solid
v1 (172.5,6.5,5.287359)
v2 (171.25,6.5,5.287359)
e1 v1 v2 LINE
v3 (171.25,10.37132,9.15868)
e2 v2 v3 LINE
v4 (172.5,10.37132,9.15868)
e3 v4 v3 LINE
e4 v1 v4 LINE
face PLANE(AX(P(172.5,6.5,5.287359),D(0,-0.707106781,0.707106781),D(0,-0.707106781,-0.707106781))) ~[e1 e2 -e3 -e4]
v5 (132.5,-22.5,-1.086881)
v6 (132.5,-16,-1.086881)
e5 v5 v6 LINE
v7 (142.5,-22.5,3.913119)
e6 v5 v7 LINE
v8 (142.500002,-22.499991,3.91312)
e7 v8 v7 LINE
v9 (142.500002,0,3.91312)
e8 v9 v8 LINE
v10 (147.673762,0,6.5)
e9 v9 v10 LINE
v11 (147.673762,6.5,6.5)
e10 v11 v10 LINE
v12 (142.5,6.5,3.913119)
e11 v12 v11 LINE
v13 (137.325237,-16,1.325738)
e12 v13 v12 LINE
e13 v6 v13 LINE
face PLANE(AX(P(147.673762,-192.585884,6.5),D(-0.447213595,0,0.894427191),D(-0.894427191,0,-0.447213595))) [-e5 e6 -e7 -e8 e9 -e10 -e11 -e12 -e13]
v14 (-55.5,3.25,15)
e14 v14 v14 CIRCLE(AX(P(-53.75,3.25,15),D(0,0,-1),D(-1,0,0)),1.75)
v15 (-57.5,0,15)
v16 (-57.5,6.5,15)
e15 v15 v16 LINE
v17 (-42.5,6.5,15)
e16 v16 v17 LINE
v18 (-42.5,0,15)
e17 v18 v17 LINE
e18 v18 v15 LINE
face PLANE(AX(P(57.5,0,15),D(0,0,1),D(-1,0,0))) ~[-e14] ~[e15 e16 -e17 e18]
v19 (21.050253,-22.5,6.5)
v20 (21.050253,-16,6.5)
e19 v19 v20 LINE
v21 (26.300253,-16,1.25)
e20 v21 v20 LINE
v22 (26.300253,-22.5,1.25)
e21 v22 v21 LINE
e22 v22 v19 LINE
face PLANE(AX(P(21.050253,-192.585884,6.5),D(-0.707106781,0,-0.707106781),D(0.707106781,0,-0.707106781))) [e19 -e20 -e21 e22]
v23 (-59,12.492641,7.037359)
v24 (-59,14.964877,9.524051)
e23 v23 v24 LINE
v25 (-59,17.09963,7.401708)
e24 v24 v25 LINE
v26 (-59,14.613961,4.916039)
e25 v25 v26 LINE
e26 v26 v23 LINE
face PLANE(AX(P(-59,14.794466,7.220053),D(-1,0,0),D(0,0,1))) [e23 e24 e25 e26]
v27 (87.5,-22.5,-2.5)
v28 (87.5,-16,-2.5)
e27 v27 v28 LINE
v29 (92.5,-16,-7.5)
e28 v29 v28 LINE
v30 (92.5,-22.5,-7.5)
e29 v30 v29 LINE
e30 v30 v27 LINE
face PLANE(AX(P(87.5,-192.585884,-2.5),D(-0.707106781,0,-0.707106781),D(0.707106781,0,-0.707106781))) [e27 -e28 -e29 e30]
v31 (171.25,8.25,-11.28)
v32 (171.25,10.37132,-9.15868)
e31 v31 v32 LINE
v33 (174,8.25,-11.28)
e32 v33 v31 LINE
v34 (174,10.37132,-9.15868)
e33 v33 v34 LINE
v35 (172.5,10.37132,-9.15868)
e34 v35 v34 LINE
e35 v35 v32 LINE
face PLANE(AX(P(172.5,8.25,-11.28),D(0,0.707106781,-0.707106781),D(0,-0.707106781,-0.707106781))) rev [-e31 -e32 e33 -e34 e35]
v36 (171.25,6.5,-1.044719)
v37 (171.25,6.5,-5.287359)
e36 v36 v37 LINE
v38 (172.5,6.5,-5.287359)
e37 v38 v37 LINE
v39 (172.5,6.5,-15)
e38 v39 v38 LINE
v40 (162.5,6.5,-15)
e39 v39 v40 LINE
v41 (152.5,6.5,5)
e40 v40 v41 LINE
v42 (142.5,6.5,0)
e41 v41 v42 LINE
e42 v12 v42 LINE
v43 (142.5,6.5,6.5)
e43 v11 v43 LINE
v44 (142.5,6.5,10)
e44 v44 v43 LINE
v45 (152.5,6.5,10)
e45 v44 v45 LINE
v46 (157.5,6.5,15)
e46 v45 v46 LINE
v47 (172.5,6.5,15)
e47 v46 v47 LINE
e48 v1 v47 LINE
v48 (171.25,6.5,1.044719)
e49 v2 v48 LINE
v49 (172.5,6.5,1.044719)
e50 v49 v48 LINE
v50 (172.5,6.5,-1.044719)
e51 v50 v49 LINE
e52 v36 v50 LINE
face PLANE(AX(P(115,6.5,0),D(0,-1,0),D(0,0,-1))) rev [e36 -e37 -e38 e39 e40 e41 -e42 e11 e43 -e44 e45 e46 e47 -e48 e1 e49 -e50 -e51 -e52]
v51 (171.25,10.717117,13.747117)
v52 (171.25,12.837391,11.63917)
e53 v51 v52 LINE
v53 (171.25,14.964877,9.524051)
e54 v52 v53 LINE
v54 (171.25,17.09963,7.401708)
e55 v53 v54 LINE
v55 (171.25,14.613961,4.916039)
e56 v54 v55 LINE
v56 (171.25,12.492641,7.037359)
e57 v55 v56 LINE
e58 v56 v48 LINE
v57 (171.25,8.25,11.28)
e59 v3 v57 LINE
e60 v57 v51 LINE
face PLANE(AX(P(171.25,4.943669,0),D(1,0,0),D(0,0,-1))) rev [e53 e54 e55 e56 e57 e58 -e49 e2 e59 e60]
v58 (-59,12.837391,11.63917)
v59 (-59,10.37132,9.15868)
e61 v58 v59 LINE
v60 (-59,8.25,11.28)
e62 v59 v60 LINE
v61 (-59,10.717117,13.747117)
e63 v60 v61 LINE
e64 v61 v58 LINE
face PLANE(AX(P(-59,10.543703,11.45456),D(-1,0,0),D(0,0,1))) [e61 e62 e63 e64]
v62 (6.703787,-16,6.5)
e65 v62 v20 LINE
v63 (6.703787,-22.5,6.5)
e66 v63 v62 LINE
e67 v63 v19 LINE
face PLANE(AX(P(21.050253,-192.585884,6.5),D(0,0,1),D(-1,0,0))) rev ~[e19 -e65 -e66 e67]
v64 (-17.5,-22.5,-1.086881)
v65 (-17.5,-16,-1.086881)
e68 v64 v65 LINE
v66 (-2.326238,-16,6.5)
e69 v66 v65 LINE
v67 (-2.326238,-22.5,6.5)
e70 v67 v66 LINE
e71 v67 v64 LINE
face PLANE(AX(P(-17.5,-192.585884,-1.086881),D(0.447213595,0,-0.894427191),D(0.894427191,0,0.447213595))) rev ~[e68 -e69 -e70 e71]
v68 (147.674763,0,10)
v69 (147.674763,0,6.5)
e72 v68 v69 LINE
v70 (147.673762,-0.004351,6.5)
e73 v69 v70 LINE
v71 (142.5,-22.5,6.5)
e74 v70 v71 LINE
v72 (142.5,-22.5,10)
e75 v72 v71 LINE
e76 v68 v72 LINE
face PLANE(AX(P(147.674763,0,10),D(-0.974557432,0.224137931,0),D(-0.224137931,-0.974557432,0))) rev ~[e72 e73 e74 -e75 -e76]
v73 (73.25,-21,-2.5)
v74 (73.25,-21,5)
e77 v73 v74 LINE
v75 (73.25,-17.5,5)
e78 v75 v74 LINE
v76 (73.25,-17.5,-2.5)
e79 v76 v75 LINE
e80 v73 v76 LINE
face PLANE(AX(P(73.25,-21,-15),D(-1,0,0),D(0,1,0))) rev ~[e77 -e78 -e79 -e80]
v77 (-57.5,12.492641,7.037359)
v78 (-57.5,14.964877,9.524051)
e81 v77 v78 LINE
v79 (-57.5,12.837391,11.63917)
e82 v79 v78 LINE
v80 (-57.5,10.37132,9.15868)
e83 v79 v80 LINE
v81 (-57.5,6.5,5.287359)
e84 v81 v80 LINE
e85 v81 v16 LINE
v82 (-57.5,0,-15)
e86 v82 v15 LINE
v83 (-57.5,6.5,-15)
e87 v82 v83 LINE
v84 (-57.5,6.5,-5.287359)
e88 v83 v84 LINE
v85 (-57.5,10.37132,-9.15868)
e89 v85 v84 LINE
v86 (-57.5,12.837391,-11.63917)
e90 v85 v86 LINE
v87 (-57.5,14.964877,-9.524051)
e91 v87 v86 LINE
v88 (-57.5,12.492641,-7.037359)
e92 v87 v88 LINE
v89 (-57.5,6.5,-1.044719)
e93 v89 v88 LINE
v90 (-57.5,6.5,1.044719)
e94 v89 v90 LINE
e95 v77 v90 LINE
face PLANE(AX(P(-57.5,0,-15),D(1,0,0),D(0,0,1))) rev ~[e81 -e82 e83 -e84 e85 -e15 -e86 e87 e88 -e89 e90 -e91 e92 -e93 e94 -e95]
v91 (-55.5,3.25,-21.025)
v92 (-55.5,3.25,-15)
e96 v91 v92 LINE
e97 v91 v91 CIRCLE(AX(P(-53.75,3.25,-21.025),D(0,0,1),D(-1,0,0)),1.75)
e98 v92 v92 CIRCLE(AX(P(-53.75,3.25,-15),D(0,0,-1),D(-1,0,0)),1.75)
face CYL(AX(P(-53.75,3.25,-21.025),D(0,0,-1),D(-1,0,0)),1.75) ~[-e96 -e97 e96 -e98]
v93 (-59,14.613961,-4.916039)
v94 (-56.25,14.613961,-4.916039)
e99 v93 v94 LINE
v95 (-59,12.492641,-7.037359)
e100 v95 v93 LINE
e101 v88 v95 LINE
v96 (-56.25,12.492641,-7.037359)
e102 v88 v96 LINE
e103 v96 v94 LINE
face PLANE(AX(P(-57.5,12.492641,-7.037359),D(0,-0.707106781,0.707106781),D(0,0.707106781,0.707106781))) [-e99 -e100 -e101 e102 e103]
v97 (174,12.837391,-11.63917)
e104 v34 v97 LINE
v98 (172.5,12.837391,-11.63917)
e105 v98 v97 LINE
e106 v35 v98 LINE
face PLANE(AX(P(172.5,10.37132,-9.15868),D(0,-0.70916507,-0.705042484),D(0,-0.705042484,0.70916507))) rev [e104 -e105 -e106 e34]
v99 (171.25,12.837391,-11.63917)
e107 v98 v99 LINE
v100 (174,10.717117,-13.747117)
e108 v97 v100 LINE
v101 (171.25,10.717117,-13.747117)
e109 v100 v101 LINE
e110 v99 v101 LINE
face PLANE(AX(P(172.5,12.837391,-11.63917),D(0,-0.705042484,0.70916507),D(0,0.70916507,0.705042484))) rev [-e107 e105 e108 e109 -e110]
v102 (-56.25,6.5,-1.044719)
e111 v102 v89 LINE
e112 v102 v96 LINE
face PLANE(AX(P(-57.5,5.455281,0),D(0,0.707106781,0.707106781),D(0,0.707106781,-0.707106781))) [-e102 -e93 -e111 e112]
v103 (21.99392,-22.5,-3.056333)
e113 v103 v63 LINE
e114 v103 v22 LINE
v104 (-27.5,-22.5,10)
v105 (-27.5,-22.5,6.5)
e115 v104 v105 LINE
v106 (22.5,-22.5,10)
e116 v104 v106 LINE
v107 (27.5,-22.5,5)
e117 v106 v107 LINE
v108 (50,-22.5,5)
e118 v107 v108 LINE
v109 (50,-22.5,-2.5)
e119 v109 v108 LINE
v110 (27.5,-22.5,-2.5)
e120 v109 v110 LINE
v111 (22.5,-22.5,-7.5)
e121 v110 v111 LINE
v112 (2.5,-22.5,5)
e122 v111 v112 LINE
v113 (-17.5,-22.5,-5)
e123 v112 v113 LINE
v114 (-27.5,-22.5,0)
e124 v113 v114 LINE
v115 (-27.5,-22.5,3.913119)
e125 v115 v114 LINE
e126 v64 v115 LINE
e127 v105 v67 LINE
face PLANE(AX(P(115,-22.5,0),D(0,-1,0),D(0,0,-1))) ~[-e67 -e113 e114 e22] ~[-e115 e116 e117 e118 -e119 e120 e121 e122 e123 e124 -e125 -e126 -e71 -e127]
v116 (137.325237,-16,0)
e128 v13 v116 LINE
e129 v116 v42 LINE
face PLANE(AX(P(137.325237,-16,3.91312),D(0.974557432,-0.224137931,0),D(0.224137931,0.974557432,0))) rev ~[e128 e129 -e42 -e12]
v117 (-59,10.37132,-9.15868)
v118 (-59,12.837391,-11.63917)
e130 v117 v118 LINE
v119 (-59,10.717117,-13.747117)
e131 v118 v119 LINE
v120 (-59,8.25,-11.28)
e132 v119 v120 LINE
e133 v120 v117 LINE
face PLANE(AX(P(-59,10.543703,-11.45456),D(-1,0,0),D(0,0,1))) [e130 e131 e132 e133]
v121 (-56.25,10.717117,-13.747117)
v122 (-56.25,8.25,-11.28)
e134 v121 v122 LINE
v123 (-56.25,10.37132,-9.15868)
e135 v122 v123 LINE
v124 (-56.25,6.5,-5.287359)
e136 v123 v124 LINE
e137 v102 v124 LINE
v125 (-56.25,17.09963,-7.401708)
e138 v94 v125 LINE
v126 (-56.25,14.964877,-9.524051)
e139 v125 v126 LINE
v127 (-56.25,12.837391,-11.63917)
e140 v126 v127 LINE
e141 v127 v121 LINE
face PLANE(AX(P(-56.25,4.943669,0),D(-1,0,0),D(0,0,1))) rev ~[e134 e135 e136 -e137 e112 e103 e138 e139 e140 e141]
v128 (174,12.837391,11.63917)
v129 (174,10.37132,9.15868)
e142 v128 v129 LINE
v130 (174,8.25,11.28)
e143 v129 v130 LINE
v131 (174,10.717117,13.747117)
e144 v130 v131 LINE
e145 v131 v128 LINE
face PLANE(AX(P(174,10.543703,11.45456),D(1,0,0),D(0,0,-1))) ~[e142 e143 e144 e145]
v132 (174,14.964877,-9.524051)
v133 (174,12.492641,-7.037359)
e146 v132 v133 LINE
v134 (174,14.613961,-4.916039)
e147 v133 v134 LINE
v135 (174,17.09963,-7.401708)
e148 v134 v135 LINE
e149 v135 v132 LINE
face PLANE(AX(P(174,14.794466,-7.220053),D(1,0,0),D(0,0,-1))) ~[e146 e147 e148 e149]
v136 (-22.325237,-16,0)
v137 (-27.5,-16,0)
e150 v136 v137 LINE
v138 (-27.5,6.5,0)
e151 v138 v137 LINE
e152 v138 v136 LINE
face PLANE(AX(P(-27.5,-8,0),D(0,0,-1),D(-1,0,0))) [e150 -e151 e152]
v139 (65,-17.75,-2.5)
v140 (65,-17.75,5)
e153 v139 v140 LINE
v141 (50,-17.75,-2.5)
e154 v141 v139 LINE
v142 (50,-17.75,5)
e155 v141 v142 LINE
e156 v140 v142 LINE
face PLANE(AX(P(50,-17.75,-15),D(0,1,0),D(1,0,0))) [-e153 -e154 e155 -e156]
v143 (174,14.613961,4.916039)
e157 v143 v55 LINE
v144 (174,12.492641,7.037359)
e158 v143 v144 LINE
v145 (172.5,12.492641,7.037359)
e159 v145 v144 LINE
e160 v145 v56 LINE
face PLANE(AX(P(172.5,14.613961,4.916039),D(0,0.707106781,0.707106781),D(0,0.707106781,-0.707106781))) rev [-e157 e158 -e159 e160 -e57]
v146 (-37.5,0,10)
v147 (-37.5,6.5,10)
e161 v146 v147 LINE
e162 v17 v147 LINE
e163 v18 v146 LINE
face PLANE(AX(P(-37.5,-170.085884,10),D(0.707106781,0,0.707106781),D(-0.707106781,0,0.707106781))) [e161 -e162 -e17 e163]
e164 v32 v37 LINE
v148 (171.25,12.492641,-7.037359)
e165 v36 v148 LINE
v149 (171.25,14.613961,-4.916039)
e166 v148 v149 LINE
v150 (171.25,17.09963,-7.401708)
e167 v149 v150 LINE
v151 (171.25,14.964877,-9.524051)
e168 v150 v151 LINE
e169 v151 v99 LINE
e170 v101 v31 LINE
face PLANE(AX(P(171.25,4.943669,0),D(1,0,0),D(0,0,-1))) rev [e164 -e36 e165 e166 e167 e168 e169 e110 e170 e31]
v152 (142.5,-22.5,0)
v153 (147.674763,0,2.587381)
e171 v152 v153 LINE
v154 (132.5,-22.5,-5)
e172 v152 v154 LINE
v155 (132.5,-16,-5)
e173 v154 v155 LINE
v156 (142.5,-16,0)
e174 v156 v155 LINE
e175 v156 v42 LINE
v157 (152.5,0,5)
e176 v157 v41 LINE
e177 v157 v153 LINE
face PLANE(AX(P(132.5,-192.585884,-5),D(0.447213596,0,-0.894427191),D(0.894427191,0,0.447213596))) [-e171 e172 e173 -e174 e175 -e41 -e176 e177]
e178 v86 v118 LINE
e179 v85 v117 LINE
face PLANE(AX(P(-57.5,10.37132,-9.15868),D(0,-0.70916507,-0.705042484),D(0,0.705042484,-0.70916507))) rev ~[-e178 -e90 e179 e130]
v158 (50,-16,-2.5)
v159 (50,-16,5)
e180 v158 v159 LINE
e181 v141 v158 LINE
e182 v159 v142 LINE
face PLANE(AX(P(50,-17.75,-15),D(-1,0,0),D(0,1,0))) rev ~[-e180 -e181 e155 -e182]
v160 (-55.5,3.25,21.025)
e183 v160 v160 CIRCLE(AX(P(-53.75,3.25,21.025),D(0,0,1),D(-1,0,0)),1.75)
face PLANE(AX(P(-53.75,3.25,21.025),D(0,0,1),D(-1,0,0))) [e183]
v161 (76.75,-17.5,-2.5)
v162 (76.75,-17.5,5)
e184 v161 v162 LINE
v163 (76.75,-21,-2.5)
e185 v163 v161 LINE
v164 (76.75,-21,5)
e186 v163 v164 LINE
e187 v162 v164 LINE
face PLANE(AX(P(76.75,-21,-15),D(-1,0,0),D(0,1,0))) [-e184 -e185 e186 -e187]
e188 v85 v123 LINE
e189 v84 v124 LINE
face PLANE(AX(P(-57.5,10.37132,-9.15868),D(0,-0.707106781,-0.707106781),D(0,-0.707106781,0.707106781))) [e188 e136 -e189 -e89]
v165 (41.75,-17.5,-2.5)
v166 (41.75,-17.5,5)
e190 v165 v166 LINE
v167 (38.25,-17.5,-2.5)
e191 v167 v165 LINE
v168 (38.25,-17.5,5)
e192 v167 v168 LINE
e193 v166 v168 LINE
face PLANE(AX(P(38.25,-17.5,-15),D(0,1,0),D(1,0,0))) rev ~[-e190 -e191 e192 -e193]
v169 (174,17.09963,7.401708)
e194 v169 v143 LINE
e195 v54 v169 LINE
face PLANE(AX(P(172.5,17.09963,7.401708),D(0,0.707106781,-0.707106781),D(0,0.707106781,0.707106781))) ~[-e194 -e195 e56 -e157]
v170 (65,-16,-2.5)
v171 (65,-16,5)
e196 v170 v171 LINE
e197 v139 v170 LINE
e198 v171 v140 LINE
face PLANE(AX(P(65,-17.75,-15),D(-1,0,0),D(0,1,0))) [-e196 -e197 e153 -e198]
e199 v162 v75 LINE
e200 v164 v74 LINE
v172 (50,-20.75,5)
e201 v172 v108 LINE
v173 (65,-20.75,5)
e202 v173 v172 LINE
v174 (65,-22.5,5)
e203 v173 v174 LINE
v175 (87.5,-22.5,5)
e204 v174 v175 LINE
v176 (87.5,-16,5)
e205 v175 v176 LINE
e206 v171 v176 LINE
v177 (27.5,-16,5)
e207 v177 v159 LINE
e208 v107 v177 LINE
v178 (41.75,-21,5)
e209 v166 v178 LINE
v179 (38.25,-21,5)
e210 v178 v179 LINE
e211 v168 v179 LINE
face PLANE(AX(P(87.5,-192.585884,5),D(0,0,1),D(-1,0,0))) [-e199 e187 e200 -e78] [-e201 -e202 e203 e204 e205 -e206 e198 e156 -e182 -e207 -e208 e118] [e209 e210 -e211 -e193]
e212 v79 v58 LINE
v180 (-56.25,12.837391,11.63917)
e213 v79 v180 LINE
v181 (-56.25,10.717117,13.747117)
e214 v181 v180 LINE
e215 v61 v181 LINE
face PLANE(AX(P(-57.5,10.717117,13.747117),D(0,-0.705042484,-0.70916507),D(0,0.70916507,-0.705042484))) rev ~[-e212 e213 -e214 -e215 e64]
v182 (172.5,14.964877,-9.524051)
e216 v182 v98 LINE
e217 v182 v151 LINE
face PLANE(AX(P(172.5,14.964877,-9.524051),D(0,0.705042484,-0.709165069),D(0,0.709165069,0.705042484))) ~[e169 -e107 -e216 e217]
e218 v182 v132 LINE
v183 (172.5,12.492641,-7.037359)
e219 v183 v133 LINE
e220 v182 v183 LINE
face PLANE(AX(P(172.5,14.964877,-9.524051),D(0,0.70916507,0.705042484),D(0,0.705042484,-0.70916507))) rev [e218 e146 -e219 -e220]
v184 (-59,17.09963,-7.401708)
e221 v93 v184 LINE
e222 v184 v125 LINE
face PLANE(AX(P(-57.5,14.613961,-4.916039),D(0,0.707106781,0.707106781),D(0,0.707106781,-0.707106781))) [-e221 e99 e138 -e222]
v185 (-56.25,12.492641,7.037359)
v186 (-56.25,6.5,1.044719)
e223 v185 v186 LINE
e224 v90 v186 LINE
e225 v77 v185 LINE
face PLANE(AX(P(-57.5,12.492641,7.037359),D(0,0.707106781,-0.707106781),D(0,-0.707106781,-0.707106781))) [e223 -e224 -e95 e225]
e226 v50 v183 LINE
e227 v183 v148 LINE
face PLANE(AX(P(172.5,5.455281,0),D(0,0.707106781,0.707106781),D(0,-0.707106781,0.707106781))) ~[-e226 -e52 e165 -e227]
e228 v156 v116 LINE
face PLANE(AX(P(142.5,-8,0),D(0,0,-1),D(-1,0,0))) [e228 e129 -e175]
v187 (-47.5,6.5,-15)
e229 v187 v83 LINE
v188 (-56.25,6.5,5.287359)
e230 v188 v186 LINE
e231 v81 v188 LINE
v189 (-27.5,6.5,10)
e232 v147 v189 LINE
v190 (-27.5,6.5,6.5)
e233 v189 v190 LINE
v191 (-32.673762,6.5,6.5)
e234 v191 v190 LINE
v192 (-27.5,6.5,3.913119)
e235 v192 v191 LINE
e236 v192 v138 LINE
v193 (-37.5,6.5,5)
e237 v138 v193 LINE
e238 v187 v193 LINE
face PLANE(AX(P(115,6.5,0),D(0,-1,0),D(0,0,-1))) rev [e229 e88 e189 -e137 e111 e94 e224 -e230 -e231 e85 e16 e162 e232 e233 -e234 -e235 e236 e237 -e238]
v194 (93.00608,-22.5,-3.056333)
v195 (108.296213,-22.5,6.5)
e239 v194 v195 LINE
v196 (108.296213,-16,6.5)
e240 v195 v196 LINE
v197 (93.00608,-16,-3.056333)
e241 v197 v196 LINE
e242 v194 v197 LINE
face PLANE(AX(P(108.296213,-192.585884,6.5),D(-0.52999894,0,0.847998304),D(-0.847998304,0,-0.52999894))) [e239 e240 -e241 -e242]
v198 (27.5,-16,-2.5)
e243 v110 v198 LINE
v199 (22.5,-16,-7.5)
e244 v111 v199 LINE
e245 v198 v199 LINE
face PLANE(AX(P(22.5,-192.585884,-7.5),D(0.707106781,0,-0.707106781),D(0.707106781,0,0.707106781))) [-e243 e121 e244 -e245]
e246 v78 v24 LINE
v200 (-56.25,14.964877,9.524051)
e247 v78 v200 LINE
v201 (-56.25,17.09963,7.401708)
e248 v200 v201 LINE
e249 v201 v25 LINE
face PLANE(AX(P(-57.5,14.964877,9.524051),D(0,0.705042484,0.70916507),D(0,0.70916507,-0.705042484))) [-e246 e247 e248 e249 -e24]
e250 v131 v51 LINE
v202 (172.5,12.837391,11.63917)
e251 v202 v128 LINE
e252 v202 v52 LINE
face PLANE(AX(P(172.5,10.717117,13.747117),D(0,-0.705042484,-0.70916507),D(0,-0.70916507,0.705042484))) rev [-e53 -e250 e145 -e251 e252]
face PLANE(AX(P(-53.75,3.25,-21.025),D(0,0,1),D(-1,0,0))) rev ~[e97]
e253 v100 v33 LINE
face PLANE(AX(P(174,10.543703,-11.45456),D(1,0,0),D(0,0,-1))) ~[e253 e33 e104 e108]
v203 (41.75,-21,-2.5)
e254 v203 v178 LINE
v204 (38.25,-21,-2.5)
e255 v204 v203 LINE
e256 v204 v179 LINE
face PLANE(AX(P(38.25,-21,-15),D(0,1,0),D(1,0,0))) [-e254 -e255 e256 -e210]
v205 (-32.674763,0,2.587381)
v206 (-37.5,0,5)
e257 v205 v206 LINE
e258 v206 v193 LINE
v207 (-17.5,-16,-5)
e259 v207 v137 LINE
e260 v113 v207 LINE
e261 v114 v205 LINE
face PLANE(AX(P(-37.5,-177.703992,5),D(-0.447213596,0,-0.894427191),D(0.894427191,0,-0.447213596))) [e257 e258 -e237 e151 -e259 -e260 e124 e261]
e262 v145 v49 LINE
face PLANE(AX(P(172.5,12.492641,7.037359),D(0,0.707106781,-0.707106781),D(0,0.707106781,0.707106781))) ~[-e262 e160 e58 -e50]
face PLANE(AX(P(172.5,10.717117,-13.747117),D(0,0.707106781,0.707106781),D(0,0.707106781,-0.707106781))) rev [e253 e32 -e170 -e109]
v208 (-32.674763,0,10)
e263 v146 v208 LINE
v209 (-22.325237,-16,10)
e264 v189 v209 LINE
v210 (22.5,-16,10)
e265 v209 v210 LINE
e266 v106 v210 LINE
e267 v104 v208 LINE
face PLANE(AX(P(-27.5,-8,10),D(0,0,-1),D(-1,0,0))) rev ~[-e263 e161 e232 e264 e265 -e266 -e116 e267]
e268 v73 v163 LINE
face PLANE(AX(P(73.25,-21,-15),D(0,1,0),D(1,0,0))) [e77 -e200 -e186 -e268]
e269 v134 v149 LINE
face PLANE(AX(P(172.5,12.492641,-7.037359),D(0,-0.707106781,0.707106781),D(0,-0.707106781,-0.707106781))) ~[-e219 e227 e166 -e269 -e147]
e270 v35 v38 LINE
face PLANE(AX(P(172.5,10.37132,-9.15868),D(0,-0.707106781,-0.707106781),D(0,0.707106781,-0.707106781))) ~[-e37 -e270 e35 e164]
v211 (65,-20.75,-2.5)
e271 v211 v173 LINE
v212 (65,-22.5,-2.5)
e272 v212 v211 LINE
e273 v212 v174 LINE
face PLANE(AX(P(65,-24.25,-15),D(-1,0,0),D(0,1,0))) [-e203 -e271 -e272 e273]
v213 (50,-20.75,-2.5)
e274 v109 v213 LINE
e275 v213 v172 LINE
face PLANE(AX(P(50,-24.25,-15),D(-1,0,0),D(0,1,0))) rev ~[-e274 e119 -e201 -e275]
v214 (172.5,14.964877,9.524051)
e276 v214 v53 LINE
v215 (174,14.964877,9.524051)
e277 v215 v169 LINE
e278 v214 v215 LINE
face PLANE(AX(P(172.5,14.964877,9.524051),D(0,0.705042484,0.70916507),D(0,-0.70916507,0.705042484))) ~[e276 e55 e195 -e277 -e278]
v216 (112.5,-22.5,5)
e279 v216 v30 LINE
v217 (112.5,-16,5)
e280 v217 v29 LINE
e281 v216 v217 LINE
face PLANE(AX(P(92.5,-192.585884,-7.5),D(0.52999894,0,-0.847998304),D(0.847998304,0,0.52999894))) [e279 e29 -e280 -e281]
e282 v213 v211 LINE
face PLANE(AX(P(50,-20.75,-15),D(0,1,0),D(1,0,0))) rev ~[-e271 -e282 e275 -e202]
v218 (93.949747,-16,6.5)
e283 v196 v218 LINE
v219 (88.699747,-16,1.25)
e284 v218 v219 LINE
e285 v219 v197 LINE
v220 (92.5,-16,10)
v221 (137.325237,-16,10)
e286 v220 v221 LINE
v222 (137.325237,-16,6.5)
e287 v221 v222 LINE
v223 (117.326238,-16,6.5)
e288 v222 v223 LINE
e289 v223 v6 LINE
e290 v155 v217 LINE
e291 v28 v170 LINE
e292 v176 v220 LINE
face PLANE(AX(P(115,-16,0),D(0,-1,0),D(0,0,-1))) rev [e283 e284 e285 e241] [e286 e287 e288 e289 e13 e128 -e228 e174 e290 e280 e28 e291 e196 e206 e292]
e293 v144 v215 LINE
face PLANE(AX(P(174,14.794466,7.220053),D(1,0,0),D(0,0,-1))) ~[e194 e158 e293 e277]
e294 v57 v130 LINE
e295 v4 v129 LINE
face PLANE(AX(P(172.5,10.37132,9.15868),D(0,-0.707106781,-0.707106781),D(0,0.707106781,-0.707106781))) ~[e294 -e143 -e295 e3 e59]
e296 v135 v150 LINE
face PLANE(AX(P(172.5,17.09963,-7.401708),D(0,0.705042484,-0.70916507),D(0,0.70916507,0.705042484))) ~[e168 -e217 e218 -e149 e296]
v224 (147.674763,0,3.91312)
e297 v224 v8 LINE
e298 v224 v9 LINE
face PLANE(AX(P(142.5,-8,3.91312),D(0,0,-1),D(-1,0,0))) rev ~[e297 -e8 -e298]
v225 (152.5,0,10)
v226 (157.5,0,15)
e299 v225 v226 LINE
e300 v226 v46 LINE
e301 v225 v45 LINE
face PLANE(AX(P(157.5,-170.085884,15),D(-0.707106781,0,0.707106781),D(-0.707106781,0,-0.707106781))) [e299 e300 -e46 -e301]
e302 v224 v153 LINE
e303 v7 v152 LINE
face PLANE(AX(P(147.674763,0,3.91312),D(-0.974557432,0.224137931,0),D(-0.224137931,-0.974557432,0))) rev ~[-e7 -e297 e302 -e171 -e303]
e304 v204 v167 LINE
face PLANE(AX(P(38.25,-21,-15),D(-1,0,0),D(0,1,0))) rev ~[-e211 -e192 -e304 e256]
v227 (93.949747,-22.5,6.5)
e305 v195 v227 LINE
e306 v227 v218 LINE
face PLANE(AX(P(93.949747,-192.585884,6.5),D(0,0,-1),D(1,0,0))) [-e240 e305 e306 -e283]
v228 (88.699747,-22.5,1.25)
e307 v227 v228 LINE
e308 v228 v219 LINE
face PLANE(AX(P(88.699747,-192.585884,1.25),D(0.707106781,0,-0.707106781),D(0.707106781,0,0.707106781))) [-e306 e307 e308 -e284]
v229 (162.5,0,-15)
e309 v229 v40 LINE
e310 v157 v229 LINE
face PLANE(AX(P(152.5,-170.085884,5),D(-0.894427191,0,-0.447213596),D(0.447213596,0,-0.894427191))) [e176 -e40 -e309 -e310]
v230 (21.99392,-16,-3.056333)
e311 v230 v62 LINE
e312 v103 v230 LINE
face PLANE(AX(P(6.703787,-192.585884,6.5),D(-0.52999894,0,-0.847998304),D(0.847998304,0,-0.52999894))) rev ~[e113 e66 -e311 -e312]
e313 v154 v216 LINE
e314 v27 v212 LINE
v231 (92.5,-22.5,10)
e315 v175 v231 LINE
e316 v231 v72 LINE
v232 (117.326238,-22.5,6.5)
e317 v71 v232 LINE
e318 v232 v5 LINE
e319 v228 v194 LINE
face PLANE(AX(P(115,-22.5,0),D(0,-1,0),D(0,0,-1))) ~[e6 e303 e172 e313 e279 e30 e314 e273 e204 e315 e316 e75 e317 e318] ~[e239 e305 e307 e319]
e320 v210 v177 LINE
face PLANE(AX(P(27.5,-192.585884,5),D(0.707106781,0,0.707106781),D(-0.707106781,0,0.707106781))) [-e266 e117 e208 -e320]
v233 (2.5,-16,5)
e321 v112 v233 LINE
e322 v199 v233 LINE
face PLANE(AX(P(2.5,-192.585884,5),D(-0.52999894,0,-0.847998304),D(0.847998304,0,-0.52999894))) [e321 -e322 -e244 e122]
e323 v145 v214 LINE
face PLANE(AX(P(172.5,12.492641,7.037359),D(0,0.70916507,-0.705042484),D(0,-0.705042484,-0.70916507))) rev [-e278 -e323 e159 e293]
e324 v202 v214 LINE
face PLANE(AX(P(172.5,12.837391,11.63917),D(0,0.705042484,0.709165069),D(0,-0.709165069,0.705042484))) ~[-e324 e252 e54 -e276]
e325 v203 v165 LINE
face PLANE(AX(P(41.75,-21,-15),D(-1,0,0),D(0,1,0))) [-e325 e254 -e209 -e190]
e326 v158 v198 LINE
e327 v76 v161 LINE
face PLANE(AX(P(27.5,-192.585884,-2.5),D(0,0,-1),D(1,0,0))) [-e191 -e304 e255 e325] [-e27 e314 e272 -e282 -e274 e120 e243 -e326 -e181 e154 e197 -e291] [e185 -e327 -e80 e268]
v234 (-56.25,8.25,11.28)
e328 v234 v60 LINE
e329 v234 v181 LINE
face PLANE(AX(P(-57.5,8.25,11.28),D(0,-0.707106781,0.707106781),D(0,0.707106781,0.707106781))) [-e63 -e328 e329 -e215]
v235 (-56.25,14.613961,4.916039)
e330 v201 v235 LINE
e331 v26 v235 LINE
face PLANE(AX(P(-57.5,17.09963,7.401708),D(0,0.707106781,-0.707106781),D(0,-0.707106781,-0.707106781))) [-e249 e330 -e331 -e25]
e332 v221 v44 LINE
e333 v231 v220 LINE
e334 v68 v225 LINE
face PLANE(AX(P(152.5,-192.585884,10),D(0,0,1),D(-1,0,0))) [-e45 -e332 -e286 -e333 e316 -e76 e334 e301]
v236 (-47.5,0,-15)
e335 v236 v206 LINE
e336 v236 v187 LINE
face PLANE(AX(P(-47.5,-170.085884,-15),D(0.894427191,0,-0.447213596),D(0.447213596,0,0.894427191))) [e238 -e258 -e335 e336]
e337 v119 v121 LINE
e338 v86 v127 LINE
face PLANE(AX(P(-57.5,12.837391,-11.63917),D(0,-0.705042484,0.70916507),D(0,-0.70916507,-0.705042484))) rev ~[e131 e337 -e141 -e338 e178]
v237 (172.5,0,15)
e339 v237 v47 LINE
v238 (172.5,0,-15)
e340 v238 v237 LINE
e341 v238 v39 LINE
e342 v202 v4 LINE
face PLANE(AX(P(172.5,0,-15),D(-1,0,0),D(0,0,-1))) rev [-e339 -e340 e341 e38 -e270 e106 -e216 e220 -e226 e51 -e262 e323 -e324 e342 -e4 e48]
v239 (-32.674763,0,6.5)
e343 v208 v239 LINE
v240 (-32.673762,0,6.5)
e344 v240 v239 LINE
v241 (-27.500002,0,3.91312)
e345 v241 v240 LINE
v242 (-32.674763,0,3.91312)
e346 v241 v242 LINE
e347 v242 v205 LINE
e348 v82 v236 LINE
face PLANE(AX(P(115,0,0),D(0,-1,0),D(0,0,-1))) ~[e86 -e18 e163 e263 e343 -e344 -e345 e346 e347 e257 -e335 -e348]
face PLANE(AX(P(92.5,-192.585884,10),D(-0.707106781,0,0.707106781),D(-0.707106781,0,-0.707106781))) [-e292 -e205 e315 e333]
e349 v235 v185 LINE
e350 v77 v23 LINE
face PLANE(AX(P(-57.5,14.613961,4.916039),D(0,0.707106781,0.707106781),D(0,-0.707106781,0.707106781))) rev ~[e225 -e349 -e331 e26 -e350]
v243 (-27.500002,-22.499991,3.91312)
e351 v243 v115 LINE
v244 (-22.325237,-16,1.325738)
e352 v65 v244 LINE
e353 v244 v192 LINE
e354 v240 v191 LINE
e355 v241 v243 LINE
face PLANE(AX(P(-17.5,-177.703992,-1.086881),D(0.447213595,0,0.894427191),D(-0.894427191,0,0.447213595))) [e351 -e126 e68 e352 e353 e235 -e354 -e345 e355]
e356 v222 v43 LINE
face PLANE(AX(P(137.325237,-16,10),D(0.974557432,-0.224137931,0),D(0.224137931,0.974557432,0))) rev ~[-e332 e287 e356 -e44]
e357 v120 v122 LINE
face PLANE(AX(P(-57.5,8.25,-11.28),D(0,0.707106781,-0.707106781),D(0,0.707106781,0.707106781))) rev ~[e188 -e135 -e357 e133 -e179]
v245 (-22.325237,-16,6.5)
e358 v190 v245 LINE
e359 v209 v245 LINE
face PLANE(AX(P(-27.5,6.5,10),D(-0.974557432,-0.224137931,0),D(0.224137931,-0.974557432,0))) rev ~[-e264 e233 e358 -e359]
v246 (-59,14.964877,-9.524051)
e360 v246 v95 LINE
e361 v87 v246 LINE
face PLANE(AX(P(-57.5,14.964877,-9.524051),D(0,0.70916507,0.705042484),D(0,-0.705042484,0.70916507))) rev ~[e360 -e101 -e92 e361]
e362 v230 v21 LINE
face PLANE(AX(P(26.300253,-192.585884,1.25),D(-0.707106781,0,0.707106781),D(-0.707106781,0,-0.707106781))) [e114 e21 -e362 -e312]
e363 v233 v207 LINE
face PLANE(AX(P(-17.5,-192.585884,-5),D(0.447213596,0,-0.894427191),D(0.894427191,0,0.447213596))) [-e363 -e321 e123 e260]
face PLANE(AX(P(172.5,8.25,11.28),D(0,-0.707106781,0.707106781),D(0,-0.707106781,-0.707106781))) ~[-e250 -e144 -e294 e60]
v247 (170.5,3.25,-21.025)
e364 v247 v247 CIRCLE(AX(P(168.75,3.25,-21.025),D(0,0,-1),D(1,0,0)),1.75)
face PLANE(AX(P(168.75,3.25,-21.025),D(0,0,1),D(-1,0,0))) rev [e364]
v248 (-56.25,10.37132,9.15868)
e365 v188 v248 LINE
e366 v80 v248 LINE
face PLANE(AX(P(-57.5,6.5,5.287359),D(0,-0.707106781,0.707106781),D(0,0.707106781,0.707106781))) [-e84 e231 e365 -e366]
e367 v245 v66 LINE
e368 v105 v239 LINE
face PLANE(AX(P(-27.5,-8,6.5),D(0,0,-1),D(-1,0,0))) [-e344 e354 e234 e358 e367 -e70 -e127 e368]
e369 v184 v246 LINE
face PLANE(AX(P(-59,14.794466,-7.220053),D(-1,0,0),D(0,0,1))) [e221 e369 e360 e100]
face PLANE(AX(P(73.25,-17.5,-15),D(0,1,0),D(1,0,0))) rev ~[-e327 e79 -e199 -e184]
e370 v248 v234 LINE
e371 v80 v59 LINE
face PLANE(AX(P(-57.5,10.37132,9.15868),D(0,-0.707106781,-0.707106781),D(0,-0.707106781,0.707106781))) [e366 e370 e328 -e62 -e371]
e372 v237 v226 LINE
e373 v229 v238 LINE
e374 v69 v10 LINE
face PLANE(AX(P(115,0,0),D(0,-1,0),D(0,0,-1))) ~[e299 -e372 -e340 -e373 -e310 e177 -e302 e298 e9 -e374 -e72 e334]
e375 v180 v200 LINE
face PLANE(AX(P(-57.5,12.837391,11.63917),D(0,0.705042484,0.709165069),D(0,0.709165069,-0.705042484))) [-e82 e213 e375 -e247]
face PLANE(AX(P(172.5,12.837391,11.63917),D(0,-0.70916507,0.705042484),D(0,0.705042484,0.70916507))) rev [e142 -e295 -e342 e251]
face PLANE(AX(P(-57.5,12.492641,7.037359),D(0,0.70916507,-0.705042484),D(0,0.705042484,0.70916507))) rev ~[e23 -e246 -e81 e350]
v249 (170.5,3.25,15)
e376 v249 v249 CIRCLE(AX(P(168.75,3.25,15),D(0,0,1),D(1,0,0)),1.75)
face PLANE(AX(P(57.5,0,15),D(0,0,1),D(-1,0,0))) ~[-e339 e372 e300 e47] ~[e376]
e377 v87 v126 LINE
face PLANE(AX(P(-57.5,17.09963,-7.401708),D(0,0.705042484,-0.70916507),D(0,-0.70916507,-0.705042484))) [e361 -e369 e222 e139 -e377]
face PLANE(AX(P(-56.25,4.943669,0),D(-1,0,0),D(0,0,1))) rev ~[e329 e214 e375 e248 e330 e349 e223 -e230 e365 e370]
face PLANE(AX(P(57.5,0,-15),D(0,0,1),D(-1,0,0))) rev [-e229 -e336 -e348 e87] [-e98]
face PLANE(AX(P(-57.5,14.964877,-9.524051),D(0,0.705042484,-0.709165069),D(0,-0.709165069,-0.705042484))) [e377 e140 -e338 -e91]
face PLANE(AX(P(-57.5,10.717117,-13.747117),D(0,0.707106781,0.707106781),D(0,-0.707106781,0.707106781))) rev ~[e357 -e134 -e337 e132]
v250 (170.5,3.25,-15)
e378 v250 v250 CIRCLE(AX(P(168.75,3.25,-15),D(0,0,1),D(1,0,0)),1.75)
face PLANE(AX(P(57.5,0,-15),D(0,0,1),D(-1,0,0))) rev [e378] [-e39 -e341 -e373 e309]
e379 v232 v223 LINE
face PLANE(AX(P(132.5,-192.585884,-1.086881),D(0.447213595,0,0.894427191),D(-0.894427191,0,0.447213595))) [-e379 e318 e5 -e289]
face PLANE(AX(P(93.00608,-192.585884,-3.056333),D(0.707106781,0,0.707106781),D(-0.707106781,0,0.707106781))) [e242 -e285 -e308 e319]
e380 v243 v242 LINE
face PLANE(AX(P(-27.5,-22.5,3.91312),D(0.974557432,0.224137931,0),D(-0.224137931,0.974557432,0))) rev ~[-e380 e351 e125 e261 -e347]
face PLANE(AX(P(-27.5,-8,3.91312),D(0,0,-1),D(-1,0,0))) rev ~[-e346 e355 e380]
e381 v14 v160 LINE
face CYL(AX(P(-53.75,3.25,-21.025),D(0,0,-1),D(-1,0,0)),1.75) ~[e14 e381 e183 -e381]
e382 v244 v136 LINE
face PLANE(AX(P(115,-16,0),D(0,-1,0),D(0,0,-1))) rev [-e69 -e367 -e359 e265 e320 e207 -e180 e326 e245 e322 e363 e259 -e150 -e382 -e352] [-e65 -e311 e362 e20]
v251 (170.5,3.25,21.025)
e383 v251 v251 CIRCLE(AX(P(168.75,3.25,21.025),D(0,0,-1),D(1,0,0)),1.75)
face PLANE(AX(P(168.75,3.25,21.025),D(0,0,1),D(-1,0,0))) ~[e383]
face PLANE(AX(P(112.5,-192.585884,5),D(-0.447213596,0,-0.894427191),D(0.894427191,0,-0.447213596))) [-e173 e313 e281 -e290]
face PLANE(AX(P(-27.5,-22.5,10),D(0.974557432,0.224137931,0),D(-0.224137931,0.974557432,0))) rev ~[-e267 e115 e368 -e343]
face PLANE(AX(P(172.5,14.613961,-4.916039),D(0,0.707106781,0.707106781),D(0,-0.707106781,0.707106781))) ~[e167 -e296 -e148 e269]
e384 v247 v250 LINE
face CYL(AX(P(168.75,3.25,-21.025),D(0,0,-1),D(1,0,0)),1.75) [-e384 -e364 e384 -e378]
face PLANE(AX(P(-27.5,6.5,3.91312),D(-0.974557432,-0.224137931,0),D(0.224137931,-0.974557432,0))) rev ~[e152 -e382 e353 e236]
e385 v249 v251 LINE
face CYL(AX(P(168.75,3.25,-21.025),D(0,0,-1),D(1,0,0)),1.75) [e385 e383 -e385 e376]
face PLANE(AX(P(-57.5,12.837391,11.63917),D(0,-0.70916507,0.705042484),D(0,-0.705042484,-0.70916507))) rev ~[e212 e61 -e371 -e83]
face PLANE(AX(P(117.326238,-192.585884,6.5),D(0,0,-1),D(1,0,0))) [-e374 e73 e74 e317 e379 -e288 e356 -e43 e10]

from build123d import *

# Parameters (mm, degrees)
SKETCH1_W                = 30
SKETCH1_H                = 115
BOSS_EXTRUDE1_DEPTH      = 6.5
BOSS_EXTRUDE2_DEPTH      = 21.025
BOSS_EXTRUDE2_DEPTH_BACK = 21.025
SKETCH2_R                = 1.75
BOSS_EXTRUDE3_DEPTH      = 1.25
BOSS_EXTRUDE4_DEPTH      = 1.5
CUT_EXTRUDE1_DEPTH       = 176.585884356
CUT_EXTRUDE1_DEPTH_BACK  = 176.585884356
SKETCH5_W                = 15
SKETCH5_H                = 3.5
SKETCH5_W_2              = 3.5
CUT_EXTRUDE3_DEPTH       = 179.511058418
SPLIT1_SURFACE_1_1_BACK  = 238.381
SPLIT1_SURFACE_1_1_DEPTH = 476.762
SPLIT1_SURFACE_1_2_BACK  = 238.381
SPLIT1_SURFACE_1_2_DEPTH = 476.762
SPLIT1_SURFACE_2_3_BACK  = 238.381
SPLIT1_SURFACE_2_3_DEPTH = 476.762
SPLIT1_SURFACE_2_4_BACK  = 238.381
SPLIT1_SURFACE_2_4_DEPTH = 476.762
BOSS_EXTRUDE10_DEPTH     = 3.5
BOSS_EXTRUDE11_START     = -6.08688
BOSS_EXTRUDE11_DEPTH     = 3.91312
CUT_EXTRUDE4_DEPTH       = 177.703991537
CUT_EXTRUDE4_DEPTH_BACK  = 177.703991537


with BuildPart() as part:
    # Sketch1 → Boss-Extrude1 (new body)
    with BuildSketch(Plane(origin=(0, 0, 0), x_dir=(0, 0, 1), z_dir=(0, -1, 0))):
        Rectangle(SKETCH1_W, SKETCH1_H)
    extrude(amount=-BOSS_EXTRUDE1_DEPTH)

    # Sketch2 → Boss-Extrude2 (add, two sides: drawn at the far end of the back side and taken through both)
    with BuildSketch(Plane.XY.offset(-BOSS_EXTRUDE2_DEPTH_BACK)):
        with Locations(Location((-53.75, 3.25, 0), (0, 0, 180))):
            Circle(SKETCH2_R)
    extrude(amount=BOSS_EXTRUDE2_DEPTH + BOSS_EXTRUDE2_DEPTH_BACK)

    # Sketch4 → Boss-Extrude3 (add)
    with BuildSketch(Plane.ZY.offset(57.5)):
        Polygon((-1.044718626, 6.5), (-5.287359313, 6.5), (0, 1.212640687), (5.287359313, 6.5), (1.044718626, 6.5), (0, 5.455281374), align=None)
        Polygon((7.037359313, 12.492640687), (1.044718626, 6.5), (5.287359313, 6.5), (9.158679656, 10.371320344), align=None)
        Polygon((9.524051427, 14.964876926), (7.037359313, 12.492640687), (9.158679656, 10.371320344), (11.639169892, 12.837390757), align=None)
        Polygon((4.916038969, 14.613961031), (7.037359313, 12.492640687), (9.524051427, 14.964876926), (7.401708122, 17.099630183), align=None)
        Polygon((11.639169892, 12.837390757), (9.158679656, 10.371320344), (11.28, 8.25), (13.747117437, 10.717117437), align=None)
        Polygon((-7.037359313, 12.492640687), (-9.158679656, 10.371320344), (-5.287359313, 6.5), (-1.044718626, 6.5), align=None)
        Polygon((-11.28, 8.25), (-9.158679656, 10.371320344), (-11.639169892, 12.837390757), (-13.747117437, 10.717117437), align=None)
        Polygon((-11.639169892, 12.837390757), (-9.158679656, 10.371320344), (-7.037359313, 12.492640687), (-9.524051427, 14.964876926), align=None)
        Polygon((-9.524051427, 14.964876926), (-7.037359313, 12.492640687), (-4.916038969, 14.613961031), (-7.401708122, 17.099630183), align=None)
    extrude(amount=-BOSS_EXTRUDE3_DEPTH)

    # Sketch4<3> → Boss-Extrude4 (add)
    with BuildSketch(Plane.ZY.offset(57.5)):
        Polygon((-11.28, 8.25), (-9.158679656, 10.371320344), (-11.639169892, 12.837390757), (-13.747117437, 10.717117437), align=None)
        Polygon((-9.524051427, 14.964876926), (-7.037359313, 12.492640687), (-4.916038969, 14.613961031), (-7.401708122, 17.099630183), align=None)
        Polygon((4.916038969, 14.613961031), (7.037359313, 12.492640687), (9.524051427, 14.964876926), (7.401708122, 17.099630183), align=None)
        Polygon((11.639169892, 12.837390757), (9.158679656, 10.371320344), (11.28, 8.25), (13.747117437, 10.717117437), align=None)
    extrude(amount=BOSS_EXTRUDE4_DEPTH)

    # Mirror1: part across plane


with BuildPart() as part_1:
    add(part.part)
    add(part.part.mirror(Plane(origin=(57.5, 0, 0), x_dir=(0, 0, 1), z_dir=(1, 0, 0))))

    # Sketch6 → Cut-Extrude1 (cut, two sides: drawn at the far end of the back side and taken through both)
    with BuildSketch(Plane(origin=(0, 6.5, 0), x_dir=(1, 0, 0), z_dir=(0, 1, 0)).offset(-CUT_EXTRUDE1_DEPTH_BACK)):
        Polygon((162.5, 15), (-47.5, 15), (-37.5, -5), (-17.5, 5), (2.5, -5), (22.5, 7.5), (27.5, 2.5), (87.5, 2.5), (92.5, 7.5), (112.5, -5), (132.5, 5), (152.5, -5), align=None)
        Polygon((87.5, -5), (27.5, -5), (22.5, -10), (-37.5, -10), (-42.5, -15), (157.5, -15), (152.5, -10), (92.5, -10), align=None)
        Polygon((-2.326237921, -6.5), (-32.673762079, -6.5), (-17.5, 1.086881039), align=None)
        Polygon((25.025126266, -2.525126266), (21.050252532, -6.5), (6.703786792, -6.5), (21.993919555, 3.056332977), (25.025126266, 0.025126266), (26.300252532, -1.25), align=None)
        Polygon((93.949747468, -6.5), (108.296213208, -6.5), (93.006080445, 3.056332977), (89.974873734, 0.025126266), (88.699747468, -1.25), (89.974873734, -2.525126266), align=None)
        Polygon((132.5, 1.086881039), (117.326237921, -6.5), (147.673762079, -6.5), align=None)
    extrude(amount=CUT_EXTRUDE1_DEPTH + CUT_EXTRUDE1_DEPTH_BACK, mode=Mode.SUBTRACT)

    # Sketch5 → Cut-Extrude3 (cut, through all)
    with BuildSketch(Plane.XY.offset(-15)):
        with Locations((57.5, 6.5)):
            Rectangle(SKETCH5_W, SKETCH5_H)
        with Locations((40, 3.25)):
            Rectangle(SKETCH5_W_2, SKETCH5_H)
        with Locations((75, 3.25)):
            Rectangle(SKETCH5_W_2, SKETCH5_H)
        with Locations((57.5, 0)):
            Rectangle(SKETCH5_W, SKETCH5_H)
    extrude(amount=CUT_EXTRUDE3_DEPTH, mode=Mode.SUBTRACT)


with BuildPart() as body_2:
    # Split1: the piece behind the surface
    add(part_1.part)
    # Split1 surface 1: a surface, the sketch's curves swept straight by 476.762 mm
    with BuildLine(Plane(origin=(0, 0, 0), x_dir=(1, 0, 0), z_dir=(0, 1, 0)).offset(-SPLIT1_SURFACE_1_1_BACK), mode=Mode.PRIVATE) as split1_surface_1_1_path:
        Line((-27.5, 9.688914823), (-27.5, -15.311085177))
    split1_surface_1_1 = Shell.extrude(split1_surface_1_1_path.wire(), (0 * SPLIT1_SURFACE_1_1_DEPTH, 1 * SPLIT1_SURFACE_1_1_DEPTH, 0 * SPLIT1_SURFACE_1_1_DEPTH))
    split(bisect_by=split1_surface_1_1, keep=Keep.BOTTOM)


with BuildPart() as part_2:
    add(part_1.part)

    # Split1: split by a surface, the side it looks to stays
    # Split1 surface 1: a surface, the sketch's curves swept straight by 476.762 mm
    with BuildLine(Plane(origin=(0, 0, 0), x_dir=(1, 0, 0), z_dir=(0, 1, 0)).offset(-SPLIT1_SURFACE_1_2_BACK), mode=Mode.PRIVATE) as split1_surface_1_2_path:
        Line((-27.5, 9.688914823), (-27.5, -15.311085177))
    split1_surface_1_2 = Shell.extrude(split1_surface_1_2_path.wire(), (0 * SPLIT1_SURFACE_1_2_DEPTH, 1 * SPLIT1_SURFACE_1_2_DEPTH, 0 * SPLIT1_SURFACE_1_2_DEPTH))
    split(bisect_by=split1_surface_1_2, keep=Keep.TOP)


with BuildPart() as body_3:
    # Split1 2: the piece behind the surface
    add(part_2.part)
    # Split1 surface 2: a surface, the sketch's curves swept straight by 476.762 mm
    with BuildLine(Plane(origin=(0, 0, 0), x_dir=(1, 0, 0), z_dir=(0, 1, 0)).offset(-SPLIT1_SURFACE_2_3_BACK), mode=Mode.PRIVATE) as split1_surface_2_3_path:
        Line((142.5, 6.689515731), (142.5, -18.310484269))
    split1_surface_2_3 = Shell.extrude(split1_surface_2_3_path.wire(), (0 * SPLIT1_SURFACE_2_3_DEPTH, 1 * SPLIT1_SURFACE_2_3_DEPTH, 0 * SPLIT1_SURFACE_2_3_DEPTH))
    split(bisect_by=split1_surface_2_3, keep=Keep.BOTTOM)


with BuildPart() as part_3:
    add(part_2.part)

    # Split1 2: split by a surface, the side it looks to stays
    # Split1 surface 2: a surface, the sketch's curves swept straight by 476.762 mm
    with BuildLine(Plane(origin=(0, 0, 0), x_dir=(1, 0, 0), z_dir=(0, 1, 0)).offset(-SPLIT1_SURFACE_2_4_BACK), mode=Mode.PRIVATE) as split1_surface_2_4_path:
        Line((142.5, 6.689515731), (142.5, -18.310484269))
    split1_surface_2_4 = Shell.extrude(split1_surface_2_4_path.wire(), (0 * SPLIT1_SURFACE_2_4_DEPTH, 1 * SPLIT1_SURFACE_2_4_DEPTH, 0 * SPLIT1_SURFACE_2_4_DEPTH))
    split(bisect_by=split1_surface_2_4, keep=Keep.TOP)

    add(body_2.part)  # Boss-Extrude10 merges body 2


with BuildPart() as body_3_1:
    # Body-Move/Copy1: moved
    add(body_3.part.moved(Location((0, -22.5, 0))))


with BuildPart() as part_4:
    add(part_3.part)

    add(body_3_1.part)  # Boss-Extrude10 merges body 3
    # Sketch9 → Boss-Extrude10 (add)
    with BuildSketch(Plane.XY.offset(10)):
        Polygon((-27.5, -22.5), (-32.674762701, 0), (-27.5, 6.5), (-22.325237299, -16), align=None)
        Polygon((142.5, -22.5), (137.325237299, -16), (142.5, 6.5), (147.674762701, 0), align=None)
    extrude(amount=-BOSS_EXTRUDE10_DEPTH)

    # Sketch9<3> → Boss-Extrude11 (add)
    with BuildSketch(Plane.XY.offset(10).offset(BOSS_EXTRUDE11_START)):
        Polygon((-27.5, -22.5), (-32.674762701, 0), (-27.5, 6.5), (-22.325237299, -16), align=None)
        Polygon((142.5, -22.5), (137.325237299, -16), (142.5, 6.5), (147.674762701, 0), align=None)
    extrude(amount=-BOSS_EXTRUDE11_DEPTH)

    # Sketch11 → Cut-Extrude4 (cut, two sides: drawn at the far end of the back side and taken through both)
    with BuildSketch(Plane(origin=(0, 0, 0), x_dir=(1, 0, 0), z_dir=(0, 1, 0)).offset(-CUT_EXTRUDE4_DEPTH_BACK)):
        Polygon((-37.5, -5), (-17.5, 5), (-19.736067977, 9.472135955), (-39.736067977, -0.527864045), align=None)
        Polygon((-17.5, 1.086881039), (-32.673762079, -6.5), (-2.326237921, -6.5), align=None)
        Polygon((117.326237921, -6.5), (132.5, 1.086881039), (147.673762079, -6.5), align=None)
        Polygon((154.736067977, -0.527864045), (152.5, -5), (132.5, 5), (134.736067977, 9.472135955), align=None)
    extrude(amount=CUT_EXTRUDE4_DEPTH + CUT_EXTRUDE4_DEPTH_BACK, mode=Mode.SUBTRACT)


solid = part_4.part
